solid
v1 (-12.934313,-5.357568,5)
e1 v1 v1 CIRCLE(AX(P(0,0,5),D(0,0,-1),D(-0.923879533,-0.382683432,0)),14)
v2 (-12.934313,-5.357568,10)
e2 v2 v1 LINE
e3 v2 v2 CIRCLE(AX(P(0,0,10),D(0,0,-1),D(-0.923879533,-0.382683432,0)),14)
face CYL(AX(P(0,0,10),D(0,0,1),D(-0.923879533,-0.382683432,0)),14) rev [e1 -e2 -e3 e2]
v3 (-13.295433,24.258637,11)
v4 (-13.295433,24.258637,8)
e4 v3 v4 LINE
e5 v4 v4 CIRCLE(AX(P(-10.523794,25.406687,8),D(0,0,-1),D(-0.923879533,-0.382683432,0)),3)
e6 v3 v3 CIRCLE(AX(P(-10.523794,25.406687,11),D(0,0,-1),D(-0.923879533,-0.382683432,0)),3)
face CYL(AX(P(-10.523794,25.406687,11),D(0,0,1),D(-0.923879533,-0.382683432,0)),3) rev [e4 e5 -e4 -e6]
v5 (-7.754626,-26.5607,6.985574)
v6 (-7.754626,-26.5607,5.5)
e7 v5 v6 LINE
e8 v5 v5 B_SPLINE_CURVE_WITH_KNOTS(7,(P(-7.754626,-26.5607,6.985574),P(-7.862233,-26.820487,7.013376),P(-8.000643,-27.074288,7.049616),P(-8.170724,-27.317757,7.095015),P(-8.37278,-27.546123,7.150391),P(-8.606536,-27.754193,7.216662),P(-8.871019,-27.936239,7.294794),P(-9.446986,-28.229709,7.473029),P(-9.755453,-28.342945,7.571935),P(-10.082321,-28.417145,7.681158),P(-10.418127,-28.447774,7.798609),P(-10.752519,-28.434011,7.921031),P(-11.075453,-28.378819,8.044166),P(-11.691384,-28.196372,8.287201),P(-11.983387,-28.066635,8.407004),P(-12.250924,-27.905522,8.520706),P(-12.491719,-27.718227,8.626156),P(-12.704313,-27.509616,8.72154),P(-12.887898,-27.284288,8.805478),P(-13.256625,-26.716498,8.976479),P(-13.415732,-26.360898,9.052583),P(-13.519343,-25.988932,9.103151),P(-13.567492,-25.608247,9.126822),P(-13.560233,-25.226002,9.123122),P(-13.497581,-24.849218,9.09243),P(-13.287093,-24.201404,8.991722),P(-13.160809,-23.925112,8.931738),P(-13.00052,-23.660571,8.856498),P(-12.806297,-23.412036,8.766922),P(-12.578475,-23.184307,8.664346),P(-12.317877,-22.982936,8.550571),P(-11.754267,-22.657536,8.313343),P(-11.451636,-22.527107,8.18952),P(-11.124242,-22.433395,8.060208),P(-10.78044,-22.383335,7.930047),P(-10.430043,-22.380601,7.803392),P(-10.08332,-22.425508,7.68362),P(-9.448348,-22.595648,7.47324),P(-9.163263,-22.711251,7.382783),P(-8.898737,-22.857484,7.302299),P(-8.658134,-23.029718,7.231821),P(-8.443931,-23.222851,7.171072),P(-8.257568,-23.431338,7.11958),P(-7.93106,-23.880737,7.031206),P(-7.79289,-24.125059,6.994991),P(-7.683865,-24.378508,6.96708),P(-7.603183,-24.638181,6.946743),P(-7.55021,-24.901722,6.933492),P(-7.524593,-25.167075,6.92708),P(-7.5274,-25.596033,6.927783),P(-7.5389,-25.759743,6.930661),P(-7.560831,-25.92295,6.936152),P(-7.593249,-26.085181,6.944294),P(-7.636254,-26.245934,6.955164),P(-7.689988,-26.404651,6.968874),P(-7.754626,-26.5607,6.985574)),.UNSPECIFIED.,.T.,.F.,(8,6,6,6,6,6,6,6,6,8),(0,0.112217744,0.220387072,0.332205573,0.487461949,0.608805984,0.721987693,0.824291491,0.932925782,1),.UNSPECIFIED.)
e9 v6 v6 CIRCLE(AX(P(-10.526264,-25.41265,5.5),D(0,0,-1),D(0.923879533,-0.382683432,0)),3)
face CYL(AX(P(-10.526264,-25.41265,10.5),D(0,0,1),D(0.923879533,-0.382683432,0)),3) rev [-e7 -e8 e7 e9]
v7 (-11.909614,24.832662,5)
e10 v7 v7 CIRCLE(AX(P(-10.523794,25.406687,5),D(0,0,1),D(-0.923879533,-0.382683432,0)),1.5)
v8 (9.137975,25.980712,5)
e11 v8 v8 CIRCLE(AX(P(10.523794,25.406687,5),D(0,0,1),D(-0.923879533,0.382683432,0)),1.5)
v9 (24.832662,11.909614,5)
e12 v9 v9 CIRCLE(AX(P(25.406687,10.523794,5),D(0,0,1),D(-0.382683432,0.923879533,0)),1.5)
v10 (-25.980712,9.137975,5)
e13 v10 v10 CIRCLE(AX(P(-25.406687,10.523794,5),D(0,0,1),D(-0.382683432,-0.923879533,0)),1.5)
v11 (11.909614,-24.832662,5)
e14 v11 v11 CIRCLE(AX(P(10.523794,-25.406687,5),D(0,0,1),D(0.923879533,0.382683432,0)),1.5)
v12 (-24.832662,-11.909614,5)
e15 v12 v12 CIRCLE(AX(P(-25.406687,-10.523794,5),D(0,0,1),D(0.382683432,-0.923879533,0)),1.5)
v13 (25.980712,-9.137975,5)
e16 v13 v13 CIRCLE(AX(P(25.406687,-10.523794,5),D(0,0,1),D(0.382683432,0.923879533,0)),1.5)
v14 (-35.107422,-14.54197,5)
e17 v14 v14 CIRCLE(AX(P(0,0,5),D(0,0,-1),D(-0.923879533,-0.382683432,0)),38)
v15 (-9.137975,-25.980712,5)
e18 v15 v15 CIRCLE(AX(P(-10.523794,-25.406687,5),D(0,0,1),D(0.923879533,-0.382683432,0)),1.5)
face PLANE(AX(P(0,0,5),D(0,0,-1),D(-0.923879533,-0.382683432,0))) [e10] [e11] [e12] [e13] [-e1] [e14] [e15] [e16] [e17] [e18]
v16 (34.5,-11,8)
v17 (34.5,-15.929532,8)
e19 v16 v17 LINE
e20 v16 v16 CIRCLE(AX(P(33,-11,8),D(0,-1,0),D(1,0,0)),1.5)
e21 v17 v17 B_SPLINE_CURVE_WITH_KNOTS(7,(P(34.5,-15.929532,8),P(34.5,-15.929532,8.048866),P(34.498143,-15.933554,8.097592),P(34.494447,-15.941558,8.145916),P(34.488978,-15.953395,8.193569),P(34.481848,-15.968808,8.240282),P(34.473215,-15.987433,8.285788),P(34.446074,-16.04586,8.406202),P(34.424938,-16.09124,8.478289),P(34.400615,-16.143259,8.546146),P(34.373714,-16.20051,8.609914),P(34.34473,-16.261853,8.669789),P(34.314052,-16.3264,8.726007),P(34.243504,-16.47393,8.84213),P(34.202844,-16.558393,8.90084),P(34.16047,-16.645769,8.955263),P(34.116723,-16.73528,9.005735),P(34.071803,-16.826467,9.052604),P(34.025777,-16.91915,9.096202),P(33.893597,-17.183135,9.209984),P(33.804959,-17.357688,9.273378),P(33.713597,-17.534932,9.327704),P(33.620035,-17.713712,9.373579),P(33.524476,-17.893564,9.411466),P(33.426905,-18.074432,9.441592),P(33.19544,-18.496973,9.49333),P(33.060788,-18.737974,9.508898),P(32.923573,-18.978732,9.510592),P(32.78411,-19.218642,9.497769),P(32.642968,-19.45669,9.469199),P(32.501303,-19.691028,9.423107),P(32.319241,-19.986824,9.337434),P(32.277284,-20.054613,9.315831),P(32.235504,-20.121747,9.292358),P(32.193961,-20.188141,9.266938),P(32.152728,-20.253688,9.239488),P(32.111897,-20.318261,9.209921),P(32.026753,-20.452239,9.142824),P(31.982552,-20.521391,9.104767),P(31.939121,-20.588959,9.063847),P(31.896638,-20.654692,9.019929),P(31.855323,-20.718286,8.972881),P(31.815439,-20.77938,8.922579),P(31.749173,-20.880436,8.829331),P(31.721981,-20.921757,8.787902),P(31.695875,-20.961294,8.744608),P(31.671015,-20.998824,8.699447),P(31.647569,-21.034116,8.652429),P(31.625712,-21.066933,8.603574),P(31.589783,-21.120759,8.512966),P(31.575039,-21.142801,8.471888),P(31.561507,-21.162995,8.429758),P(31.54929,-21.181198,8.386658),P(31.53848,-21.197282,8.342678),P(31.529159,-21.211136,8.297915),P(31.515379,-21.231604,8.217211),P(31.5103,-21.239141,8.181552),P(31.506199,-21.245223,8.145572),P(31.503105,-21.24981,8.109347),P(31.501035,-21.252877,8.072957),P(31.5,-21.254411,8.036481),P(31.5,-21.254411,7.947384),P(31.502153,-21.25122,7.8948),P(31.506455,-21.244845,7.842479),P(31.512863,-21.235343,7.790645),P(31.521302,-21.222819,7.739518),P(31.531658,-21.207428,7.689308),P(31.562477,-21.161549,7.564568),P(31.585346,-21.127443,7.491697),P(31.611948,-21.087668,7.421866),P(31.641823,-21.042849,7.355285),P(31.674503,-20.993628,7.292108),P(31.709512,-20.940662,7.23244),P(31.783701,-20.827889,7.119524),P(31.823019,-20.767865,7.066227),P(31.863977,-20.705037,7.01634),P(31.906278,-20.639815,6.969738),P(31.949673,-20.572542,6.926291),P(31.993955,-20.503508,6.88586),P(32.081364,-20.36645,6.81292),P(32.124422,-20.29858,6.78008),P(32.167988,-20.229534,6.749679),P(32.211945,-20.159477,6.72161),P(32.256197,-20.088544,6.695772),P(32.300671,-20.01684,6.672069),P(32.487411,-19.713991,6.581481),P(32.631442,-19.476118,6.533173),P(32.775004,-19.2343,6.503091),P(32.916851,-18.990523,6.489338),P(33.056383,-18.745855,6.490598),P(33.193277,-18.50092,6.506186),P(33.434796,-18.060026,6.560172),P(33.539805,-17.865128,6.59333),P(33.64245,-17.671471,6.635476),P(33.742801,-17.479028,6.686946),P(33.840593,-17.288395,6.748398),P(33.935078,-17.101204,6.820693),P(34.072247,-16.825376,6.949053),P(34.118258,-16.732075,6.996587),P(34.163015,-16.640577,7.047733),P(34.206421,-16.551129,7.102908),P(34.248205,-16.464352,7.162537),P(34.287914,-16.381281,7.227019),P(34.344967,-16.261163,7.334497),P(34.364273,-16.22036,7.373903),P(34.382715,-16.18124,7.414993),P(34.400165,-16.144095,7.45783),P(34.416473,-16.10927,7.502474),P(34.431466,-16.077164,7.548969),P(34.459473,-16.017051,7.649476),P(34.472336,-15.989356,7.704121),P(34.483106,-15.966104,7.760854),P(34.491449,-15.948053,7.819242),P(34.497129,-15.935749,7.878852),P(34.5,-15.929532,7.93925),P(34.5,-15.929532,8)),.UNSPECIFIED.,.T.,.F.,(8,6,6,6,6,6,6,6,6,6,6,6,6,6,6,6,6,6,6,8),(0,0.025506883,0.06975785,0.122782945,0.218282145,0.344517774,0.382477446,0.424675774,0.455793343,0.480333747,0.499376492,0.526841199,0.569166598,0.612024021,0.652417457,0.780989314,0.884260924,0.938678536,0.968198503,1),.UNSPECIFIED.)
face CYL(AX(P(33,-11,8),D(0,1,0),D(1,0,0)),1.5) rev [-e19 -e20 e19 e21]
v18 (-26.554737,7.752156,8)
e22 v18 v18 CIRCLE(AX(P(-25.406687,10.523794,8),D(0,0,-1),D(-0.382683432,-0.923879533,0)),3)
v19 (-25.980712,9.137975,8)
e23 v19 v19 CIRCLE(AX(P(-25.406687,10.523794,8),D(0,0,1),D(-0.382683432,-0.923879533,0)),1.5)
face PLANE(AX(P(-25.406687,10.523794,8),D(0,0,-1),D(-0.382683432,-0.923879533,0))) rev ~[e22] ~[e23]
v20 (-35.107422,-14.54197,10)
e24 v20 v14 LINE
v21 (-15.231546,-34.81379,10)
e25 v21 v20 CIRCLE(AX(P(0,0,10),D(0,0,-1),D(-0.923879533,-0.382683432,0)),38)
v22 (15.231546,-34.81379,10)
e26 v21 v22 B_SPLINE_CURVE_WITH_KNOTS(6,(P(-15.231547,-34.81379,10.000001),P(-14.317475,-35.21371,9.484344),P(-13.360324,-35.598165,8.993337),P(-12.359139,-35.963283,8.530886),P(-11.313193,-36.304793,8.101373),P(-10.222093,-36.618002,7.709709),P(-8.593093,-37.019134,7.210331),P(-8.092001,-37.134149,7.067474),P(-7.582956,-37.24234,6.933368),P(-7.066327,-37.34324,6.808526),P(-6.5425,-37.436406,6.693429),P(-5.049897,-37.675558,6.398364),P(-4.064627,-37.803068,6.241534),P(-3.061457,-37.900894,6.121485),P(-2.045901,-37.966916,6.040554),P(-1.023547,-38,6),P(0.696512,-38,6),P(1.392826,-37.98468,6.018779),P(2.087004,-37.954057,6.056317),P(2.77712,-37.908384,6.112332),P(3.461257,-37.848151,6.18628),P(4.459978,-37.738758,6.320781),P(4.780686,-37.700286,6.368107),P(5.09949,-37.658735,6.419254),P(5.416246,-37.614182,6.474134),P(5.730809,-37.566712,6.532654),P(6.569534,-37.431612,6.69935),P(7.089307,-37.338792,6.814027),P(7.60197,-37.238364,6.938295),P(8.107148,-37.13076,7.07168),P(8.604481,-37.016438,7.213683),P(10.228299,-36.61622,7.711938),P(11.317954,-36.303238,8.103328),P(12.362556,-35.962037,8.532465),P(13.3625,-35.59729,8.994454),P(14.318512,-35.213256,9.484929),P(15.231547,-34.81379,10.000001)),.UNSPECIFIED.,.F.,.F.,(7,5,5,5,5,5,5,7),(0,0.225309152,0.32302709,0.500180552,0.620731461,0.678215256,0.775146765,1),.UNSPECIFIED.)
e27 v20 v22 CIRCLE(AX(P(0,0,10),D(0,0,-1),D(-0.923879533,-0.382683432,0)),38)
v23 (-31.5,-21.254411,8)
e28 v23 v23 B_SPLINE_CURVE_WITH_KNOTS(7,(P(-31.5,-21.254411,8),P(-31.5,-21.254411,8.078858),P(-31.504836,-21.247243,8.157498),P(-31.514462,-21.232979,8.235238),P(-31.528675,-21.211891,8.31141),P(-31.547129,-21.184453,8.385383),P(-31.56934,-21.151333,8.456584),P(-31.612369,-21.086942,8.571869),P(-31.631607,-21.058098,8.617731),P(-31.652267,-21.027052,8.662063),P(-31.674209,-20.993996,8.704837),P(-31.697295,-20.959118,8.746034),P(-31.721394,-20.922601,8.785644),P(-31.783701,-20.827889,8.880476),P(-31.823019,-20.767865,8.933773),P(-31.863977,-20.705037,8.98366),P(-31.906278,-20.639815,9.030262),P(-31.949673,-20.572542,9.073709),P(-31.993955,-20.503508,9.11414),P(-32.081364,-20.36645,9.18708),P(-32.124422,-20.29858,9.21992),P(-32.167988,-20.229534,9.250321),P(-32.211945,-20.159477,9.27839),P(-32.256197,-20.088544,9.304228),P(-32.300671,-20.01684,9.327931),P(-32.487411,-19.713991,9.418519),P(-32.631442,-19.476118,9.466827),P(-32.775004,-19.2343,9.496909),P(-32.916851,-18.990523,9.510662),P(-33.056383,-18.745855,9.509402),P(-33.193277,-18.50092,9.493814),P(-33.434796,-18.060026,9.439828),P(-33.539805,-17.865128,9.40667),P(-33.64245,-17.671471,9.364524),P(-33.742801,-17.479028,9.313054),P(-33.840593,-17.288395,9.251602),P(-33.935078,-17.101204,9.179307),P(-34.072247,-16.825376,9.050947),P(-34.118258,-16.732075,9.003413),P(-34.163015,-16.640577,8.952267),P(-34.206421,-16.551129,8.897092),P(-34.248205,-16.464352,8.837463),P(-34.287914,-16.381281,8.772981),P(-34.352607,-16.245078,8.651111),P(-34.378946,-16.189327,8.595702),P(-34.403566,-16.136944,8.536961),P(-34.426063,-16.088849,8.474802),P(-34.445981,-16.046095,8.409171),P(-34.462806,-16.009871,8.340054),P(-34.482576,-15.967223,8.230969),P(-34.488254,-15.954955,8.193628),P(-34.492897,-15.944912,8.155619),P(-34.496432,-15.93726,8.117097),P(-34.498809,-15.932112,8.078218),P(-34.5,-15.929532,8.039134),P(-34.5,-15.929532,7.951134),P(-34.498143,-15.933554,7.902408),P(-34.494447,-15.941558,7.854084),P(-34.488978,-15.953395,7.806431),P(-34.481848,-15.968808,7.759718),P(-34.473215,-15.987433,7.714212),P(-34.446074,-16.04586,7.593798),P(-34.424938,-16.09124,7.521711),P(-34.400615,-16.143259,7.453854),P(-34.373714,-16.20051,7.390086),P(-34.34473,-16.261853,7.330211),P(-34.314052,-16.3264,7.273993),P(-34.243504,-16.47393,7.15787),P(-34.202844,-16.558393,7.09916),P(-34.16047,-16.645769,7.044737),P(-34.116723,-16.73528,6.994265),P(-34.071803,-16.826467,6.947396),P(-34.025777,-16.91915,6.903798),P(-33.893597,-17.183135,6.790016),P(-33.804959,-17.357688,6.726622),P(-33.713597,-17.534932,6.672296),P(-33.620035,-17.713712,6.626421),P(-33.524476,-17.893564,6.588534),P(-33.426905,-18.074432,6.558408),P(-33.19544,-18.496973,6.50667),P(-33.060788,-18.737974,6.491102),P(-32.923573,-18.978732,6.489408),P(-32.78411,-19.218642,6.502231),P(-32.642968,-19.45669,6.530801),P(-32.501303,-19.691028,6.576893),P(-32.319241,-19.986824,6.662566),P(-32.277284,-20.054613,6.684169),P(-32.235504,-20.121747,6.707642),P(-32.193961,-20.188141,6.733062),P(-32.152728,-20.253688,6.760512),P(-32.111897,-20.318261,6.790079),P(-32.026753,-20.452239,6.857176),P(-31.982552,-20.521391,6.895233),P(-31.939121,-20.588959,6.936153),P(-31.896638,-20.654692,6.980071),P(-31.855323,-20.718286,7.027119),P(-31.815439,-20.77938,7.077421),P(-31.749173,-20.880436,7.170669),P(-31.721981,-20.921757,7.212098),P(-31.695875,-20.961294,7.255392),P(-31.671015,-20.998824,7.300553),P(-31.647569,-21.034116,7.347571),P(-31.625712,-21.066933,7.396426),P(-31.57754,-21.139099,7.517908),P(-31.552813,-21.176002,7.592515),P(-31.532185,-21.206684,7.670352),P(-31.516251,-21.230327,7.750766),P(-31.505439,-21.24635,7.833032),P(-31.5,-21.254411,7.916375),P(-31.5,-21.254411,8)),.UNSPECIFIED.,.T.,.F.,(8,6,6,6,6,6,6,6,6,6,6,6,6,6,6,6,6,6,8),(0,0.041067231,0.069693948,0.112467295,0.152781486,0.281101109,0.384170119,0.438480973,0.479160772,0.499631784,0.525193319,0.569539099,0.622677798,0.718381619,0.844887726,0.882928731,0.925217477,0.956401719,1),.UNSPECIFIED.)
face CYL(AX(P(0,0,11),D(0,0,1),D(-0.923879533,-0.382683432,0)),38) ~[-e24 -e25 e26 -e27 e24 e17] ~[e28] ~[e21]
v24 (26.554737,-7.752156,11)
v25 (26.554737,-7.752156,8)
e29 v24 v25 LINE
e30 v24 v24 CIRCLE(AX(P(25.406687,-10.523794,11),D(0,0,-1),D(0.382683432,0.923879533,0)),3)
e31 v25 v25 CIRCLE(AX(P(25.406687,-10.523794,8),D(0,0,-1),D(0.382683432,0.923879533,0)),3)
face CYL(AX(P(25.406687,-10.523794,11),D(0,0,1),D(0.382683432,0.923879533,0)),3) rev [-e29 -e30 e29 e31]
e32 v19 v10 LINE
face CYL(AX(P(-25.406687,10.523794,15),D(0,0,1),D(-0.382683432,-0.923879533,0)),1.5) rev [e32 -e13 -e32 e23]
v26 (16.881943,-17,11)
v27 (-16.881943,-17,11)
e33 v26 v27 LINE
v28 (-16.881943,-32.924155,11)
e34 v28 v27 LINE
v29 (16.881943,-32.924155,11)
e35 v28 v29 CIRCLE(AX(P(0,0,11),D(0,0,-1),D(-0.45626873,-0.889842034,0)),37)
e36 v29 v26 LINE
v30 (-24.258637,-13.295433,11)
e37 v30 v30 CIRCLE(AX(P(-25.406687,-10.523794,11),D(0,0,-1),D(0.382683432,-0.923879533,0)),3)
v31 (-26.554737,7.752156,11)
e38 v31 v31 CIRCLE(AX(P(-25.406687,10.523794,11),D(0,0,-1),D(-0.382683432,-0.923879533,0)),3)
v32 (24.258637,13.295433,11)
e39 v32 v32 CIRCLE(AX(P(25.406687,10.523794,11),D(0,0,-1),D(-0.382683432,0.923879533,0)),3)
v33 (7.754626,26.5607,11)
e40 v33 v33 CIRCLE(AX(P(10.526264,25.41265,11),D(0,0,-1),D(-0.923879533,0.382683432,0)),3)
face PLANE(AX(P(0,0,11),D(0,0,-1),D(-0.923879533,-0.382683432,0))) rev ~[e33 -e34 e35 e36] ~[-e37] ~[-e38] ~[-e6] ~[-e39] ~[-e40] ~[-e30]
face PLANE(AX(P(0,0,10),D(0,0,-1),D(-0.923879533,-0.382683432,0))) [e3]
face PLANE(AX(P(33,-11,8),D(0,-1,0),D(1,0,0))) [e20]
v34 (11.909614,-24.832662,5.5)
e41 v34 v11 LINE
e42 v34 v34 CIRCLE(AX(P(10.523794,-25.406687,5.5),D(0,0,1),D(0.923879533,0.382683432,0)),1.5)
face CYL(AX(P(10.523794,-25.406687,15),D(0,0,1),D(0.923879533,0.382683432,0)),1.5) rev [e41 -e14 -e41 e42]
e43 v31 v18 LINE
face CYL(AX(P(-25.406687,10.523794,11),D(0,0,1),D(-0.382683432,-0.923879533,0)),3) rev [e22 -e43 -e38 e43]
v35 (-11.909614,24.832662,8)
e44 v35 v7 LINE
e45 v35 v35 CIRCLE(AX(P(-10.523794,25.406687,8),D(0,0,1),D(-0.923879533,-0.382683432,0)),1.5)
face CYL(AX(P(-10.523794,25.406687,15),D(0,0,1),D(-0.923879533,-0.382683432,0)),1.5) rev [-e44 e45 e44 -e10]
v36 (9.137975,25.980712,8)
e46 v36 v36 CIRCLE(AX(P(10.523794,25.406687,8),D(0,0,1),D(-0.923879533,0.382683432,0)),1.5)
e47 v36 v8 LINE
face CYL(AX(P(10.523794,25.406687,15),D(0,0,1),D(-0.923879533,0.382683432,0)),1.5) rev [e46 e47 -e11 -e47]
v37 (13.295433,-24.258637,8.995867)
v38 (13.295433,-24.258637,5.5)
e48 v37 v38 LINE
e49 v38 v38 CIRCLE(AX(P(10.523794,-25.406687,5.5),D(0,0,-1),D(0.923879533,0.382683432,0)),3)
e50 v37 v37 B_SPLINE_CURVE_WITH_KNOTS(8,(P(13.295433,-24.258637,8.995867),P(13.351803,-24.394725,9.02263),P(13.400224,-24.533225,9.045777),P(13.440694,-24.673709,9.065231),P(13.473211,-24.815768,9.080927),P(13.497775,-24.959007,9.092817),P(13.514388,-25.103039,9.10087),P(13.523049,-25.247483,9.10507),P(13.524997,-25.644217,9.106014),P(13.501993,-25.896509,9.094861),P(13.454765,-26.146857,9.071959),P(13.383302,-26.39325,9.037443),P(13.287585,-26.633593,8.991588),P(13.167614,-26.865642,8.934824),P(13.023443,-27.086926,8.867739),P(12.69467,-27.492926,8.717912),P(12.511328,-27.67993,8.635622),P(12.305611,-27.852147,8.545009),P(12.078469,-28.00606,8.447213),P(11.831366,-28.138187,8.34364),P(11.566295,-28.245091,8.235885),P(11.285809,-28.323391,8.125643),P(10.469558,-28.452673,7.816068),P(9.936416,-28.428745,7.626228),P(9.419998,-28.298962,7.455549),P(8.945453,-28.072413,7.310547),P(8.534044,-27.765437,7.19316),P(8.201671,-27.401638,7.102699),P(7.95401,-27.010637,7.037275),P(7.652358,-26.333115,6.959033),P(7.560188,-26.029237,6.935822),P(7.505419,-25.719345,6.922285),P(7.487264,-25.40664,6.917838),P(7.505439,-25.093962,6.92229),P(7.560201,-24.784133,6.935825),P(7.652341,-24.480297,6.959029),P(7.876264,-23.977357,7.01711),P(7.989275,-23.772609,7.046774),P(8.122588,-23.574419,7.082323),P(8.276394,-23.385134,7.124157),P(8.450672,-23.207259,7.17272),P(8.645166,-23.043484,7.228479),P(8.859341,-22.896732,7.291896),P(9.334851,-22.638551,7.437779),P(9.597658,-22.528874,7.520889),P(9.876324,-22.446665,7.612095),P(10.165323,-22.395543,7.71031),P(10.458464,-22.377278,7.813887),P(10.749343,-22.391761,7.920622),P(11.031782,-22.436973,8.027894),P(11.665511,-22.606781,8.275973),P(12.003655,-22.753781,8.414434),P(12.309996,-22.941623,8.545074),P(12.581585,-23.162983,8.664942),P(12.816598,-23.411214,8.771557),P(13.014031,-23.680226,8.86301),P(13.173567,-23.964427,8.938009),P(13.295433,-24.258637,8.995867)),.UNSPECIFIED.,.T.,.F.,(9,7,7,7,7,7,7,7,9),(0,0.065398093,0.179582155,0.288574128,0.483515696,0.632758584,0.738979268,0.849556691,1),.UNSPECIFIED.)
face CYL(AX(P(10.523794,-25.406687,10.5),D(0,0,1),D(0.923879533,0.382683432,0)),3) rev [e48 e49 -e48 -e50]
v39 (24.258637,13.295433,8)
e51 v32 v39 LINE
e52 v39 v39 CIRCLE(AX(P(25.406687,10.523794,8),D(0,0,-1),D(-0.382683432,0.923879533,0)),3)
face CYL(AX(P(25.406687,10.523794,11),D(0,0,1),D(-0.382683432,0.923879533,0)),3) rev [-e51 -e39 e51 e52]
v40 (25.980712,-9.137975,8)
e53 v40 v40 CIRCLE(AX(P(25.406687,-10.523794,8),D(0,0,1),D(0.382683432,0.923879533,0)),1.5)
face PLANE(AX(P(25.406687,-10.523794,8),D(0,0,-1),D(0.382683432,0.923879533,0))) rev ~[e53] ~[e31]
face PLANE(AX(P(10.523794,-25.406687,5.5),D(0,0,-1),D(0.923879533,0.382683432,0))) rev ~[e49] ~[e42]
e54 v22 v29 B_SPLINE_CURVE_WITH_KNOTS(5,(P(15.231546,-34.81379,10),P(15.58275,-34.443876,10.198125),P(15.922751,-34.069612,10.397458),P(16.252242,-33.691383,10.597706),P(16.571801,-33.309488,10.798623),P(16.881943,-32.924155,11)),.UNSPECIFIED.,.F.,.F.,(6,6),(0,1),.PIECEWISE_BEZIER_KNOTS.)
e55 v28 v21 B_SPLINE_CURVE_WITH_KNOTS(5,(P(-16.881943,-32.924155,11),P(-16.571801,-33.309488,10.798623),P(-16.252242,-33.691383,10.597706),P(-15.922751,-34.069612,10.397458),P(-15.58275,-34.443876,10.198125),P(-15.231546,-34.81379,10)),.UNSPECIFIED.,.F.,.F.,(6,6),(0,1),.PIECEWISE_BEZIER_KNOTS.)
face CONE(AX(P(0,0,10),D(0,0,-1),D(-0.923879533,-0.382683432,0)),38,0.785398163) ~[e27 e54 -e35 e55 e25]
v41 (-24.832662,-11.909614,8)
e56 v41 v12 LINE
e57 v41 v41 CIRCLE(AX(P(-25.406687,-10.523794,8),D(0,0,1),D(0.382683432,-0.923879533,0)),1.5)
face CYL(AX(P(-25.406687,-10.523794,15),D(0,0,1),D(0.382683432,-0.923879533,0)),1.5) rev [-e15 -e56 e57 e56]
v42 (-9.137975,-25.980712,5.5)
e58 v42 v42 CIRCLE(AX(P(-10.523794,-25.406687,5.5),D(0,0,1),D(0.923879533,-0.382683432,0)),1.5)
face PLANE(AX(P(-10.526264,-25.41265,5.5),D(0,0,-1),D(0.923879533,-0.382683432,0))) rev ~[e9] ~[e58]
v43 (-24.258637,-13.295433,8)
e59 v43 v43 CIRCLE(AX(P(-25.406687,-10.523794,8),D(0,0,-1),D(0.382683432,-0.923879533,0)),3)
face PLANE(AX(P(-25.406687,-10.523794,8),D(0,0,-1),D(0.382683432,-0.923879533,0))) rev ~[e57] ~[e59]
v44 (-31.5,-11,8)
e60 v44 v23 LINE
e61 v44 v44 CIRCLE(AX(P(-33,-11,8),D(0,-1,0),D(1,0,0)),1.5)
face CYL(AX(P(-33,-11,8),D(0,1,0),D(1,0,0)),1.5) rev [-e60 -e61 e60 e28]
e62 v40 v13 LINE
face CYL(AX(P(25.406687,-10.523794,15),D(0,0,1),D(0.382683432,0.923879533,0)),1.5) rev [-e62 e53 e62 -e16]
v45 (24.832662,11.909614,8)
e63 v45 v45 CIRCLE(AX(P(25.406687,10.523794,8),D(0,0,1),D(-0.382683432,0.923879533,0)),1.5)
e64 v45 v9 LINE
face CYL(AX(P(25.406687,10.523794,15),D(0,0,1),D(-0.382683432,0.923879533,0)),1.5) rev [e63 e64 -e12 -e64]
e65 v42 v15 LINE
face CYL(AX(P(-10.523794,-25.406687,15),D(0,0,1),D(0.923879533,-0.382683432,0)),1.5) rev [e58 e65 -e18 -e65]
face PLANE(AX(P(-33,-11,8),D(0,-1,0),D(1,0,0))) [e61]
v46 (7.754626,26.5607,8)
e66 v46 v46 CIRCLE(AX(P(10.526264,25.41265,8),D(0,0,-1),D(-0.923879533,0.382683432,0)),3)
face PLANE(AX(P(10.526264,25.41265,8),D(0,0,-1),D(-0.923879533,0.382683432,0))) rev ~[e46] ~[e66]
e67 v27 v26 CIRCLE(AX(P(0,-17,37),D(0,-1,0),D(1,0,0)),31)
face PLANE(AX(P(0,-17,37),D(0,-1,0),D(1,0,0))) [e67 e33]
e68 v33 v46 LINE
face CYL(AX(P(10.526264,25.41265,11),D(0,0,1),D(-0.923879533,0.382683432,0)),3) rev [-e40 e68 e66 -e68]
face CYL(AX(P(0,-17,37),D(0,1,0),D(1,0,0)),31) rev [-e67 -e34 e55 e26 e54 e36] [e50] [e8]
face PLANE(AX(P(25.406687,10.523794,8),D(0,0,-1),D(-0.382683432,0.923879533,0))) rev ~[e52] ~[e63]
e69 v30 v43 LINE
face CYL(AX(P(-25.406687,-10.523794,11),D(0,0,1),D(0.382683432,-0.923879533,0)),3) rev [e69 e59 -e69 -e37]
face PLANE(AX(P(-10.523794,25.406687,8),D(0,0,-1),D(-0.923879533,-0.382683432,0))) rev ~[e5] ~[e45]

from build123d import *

# Parameters (mm, degrees)
CYLINDER2682_R               = 1.5
CYLINDER2682_DEPTH           = 60
CYLINDER2681_R               = 1.5
CYLINDER2681_DEPTH           = 60
TUBE120_R                    = 31
TUBE120_R_2                  = 22
TUBE120_DEPTH                = 24
CYLINDER2647_R               = 14
CYLINDER2647_DEPTH           = 5
CYLINDER2632_R               = 1.5
CYLINDER2632_DEPTH           = 20
CYLINDER2632_PLACEMENT_ANGLE = 45
CYLINDER2640_R               = 1.5
CYLINDER2640_DEPTH           = 20
CYLINDER2633_R               = 1.5
CYLINDER2633_DEPTH           = 20
CYLINDER2633_PLACEMENT_ANGLE = 135
CYLINDER2641_R               = 1.5
CYLINDER2641_DEPTH           = 20
CYLINDER2634_R               = 1.5
CYLINDER2634_DEPTH           = 20
CYLINDER2634_PLACEMENT_ANGLE = 225
CYLINDER2644_R               = 1.5
CYLINDER2644_DEPTH           = 20
CYLINDER2643_R               = 1.5
CYLINDER2643_DEPTH           = 20
CYLINDER2643_PLACEMENT_ANGLE = 45
CYLINDER2646_R               = 1.5
CYLINDER2646_DEPTH           = 20
CYLINDER2635_R               = 3
CYLINDER2635_DEPTH           = 3
CYLINDER2635_PLACEMENT_ANGLE = 45
CYLINDER2636_R               = 3
CYLINDER2636_DEPTH           = 3
CYLINDER2630_R               = 3
CYLINDER2630_DEPTH           = 3
CYLINDER2630_PLACEMENT_ANGLE = 135
CYLINDER2631_R               = 3
CYLINDER2631_DEPTH           = 5
CYLINDER2637_R               = 3
CYLINDER2637_DEPTH           = 5
CYLINDER2637_PLACEMENT_ANGLE = 225
CYLINDER2638_R               = 3
CYLINDER2638_DEPTH           = 3
CYLINDER2639_R               = 3
CYLINDER2639_DEPTH           = 3
CYLINDER2639_PLACEMENT_ANGLE = 45
CYLINDER2642_R               = 3
CYLINDER2642_DEPTH           = 3
CYLINDER2645_R               = 38
CYLINDER2645_DEPTH           = 6
CHAMFER126_SIZE              = 1
CHAMFER126_ROLL_ANGLE        = 180
CHAMFER126_PLACEMENT_ANGLE   = -157.5


with BuildPart() as v_lec2652:
    # Cylinder2682 → Cylinder2682 (new body)
    with BuildSketch(Plane(origin=(33, -10, 8), x_dir=(1, 0, 0), z_dir=(0, -1, 0))):
        Circle(CYLINDER2682_R)
    extrude(amount=CYLINDER2682_DEPTH)


with BuildPart() as compound1193:
    # Cylinder2681 → Cylinder2681 (new body)
    with BuildSketch(Plane(origin=(-33, -10, 8), x_dir=(1, 0, 0), z_dir=(0, -1, 0))):
        Circle(CYLINDER2681_R)
    extrude(amount=CYLINDER2681_DEPTH)

    # Compound1193: union Válec2652
    add(v_lec2652.part)


with BuildPart() as compound1193_1:
    # Compound1193 placement: moved
    add(compound1193.part.moved(Location((0, -1, 0))))


with BuildPart() as tube120:
    # Tube120 → Tube120 (new body)
    with BuildSketch(Plane(origin=(0, -17, 37), x_dir=(1, 0, 0), z_dir=(0, -1, 0))):
        Circle(TUBE120_R)
        Circle(TUBE120_R_2, mode=Mode.SUBTRACT)
    extrude(amount=TUBE120_DEPTH)


with BuildPart() as v_lec2617:
    # Cylinder2647 → Cylinder2647 (new body)
    with BuildSketch(Plane.XY.offset(1)):
        Circle(CYLINDER2647_R)
    extrude(amount=CYLINDER2647_DEPTH)


with BuildPart() as v_lec2602:
    # Cylinder2632 → Cylinder2632 (new body)
    with BuildSketch(Plane.XY):
        Circle(CYLINDER2632_R)
    extrude(amount=CYLINDER2632_DEPTH)


with BuildPart() as v_lec2602_1:
    # Cylinder2632 placement: moved
    add(v_lec2602.part.moved(Location((-19.445436, 19.445436, 19))).rotate(Axis((-19.445436, 19.445436, 19), (0, 0, 1)), CYLINDER2632_PLACEMENT_ANGLE))


with BuildPart() as v_lec2610:
    # Cylinder2640 → Cylinder2640 (new body)
    with BuildSketch(Plane(origin=(-27.5, 0, 19), x_dir=(0, 1, 0), z_dir=(0, 0, 1))):
        Circle(CYLINDER2640_R)
    extrude(amount=CYLINDER2640_DEPTH)


with BuildPart() as v_lec2603:
    # Cylinder2633 → Cylinder2633 (new body)
    with BuildSketch(Plane.XY):
        Circle(CYLINDER2633_R)
    extrude(amount=CYLINDER2633_DEPTH)


with BuildPart() as v_lec2603_1:
    # Cylinder2633 placement: moved
    add(v_lec2603.part.moved(Location((-19.445436, -19.445436, 19))).rotate(Axis((-19.445436, -19.445436, 19), (0, 0, 1)), CYLINDER2633_PLACEMENT_ANGLE))


with BuildPart() as v_lec2611:
    # Cylinder2641 → Cylinder2641 (new body)
    with BuildSketch(Plane(origin=(0, -27.5, 19), x_dir=(-1, 0, 0), z_dir=(0, 0, 1))):
        Circle(CYLINDER2641_R)
    extrude(amount=CYLINDER2641_DEPTH)


with BuildPart() as v_lec2604:
    # Cylinder2634 → Cylinder2634 (new body)
    with BuildSketch(Plane.XY):
        Circle(CYLINDER2634_R)
    extrude(amount=CYLINDER2634_DEPTH)


with BuildPart() as v_lec2604_1:
    # Cylinder2634 placement: moved
    add(v_lec2604.part.moved(Location((19.445436, -19.445436, 19))).rotate(Axis((19.445436, -19.445436, 19), (0, 0, 1)), CYLINDER2634_PLACEMENT_ANGLE))


with BuildPart() as v_lec2614:
    # Cylinder2644 → Cylinder2644 (new body)
    with BuildSketch(Plane(origin=(27.5, 0, 19), x_dir=(0, -1, 0), z_dir=(0, 0, 1))):
        Circle(CYLINDER2644_R)
    extrude(amount=CYLINDER2644_DEPTH)


with BuildPart() as v_lec2613:
    # Cylinder2643 → Cylinder2643 (new body)
    with BuildSketch(Plane.XY):
        Circle(CYLINDER2643_R)
    extrude(amount=CYLINDER2643_DEPTH)


with BuildPart() as v_lec2613_1:
    # Cylinder2643 placement: moved
    add(v_lec2613.part.moved(Location((19.445436, 19.445436, 19))).rotate(Axis((19.445436, 19.445436, 19), (0, 0, -1)), CYLINDER2643_PLACEMENT_ANGLE))


with BuildPart() as compound1169:
    # Cylinder2646 → Cylinder2646 (new body)
    with BuildSketch(Plane(origin=(0, 27.5, 19), x_dir=(1, 0, 0), z_dir=(0, 0, 1))):
        Circle(CYLINDER2646_R)
    extrude(amount=CYLINDER2646_DEPTH)

    # Compound1169: union Válec2602, Válec2610, Válec2603, Válec2611, Válec2604, Válec2614, Válec2613
    add(v_lec2602_1.part)
    add(v_lec2610.part)
    add(v_lec2603_1.part)
    add(v_lec2611.part)
    add(v_lec2604_1.part)
    add(v_lec2614.part)
    add(v_lec2613_1.part)


with BuildPart() as compound1169_1:
    # Compound1169 placement: moved
    add(compound1169.part.moved(Location((0, 0, -23))))


with BuildPart() as v_lec2605:
    # Cylinder2635 → Cylinder2635 (new body)
    with BuildSketch(Plane.XY):
        Circle(CYLINDER2635_R)
    extrude(amount=CYLINDER2635_DEPTH)


with BuildPart() as v_lec2605_1:
    # Cylinder2635 placement: moved
    add(v_lec2605.part.moved(Location((-19.45, 19.45, 19))).rotate(Axis((-19.45, 19.45, 19), (0, 0, 1)), CYLINDER2635_PLACEMENT_ANGLE))


with BuildPart() as v_lec2606:
    # Cylinder2636 → Cylinder2636 (new body)
    with BuildSketch(Plane(origin=(-27.5, 0, 19), x_dir=(0, 1, 0), z_dir=(0, 0, 1))):
        Circle(CYLINDER2636_R)
    extrude(amount=CYLINDER2636_DEPTH)


with BuildPart() as v_lec2600:
    # Cylinder2630 → Cylinder2630 (new body)
    with BuildSketch(Plane.XY):
        Circle(CYLINDER2630_R)
    extrude(amount=CYLINDER2630_DEPTH)


with BuildPart() as v_lec2600_1:
    # Cylinder2630 placement: moved
    add(v_lec2600.part.moved(Location((-19.445436, -19.445436, 19))).rotate(Axis((-19.445436, -19.445436, 19), (0, 0, 1)), CYLINDER2630_PLACEMENT_ANGLE))


with BuildPart() as v_lec2601:
    # Cylinder2631 → Cylinder2631 (new body)
    with BuildSketch(Plane(origin=(0, -27.5, 19.5), x_dir=(-1, 0, 0), z_dir=(0, 0, 1))):
        Circle(CYLINDER2631_R)
    extrude(amount=CYLINDER2631_DEPTH)


with BuildPart() as v_lec2607:
    # Cylinder2637 → Cylinder2637 (new body)
    with BuildSketch(Plane.XY):
        Circle(CYLINDER2637_R)
    extrude(amount=CYLINDER2637_DEPTH)


with BuildPart() as v_lec2607_1:
    # Cylinder2637 placement: moved
    add(v_lec2607.part.moved(Location((19.45, -19.45, 19.5))).rotate(Axis((19.45, -19.45, 19.5), (0, 0, 1)), CYLINDER2637_PLACEMENT_ANGLE))


with BuildPart() as v_lec2608:
    # Cylinder2638 → Cylinder2638 (new body)
    with BuildSketch(Plane(origin=(27.5, 0, 19), x_dir=(0, -1, 0), z_dir=(0, 0, 1))):
        Circle(CYLINDER2638_R)
    extrude(amount=CYLINDER2638_DEPTH)


with BuildPart() as v_lec2609:
    # Cylinder2639 → Cylinder2639 (new body)
    with BuildSketch(Plane.XY):
        Circle(CYLINDER2639_R)
    extrude(amount=CYLINDER2639_DEPTH)


with BuildPart() as v_lec2609_1:
    # Cylinder2639 placement: moved
    add(v_lec2609.part.moved(Location((19.445436, 19.445436, 19))).rotate(Axis((19.445436, 19.445436, 19), (0, 0, -1)), CYLINDER2639_PLACEMENT_ANGLE))


with BuildPart() as compound1170:
    # Cylinder2642 → Cylinder2642 (new body)
    with BuildSketch(Plane(origin=(0, 27.5, 19), x_dir=(1, 0, 0), z_dir=(0, 0, 1))):
        Circle(CYLINDER2642_R)
    extrude(amount=CYLINDER2642_DEPTH)

    # Compound1170: union Válec2605, Válec2606, Válec2600, Válec2601, Válec2607, Válec2608, Válec2609
    add(v_lec2605_1.part)
    add(v_lec2606.part)
    add(v_lec2600_1.part)
    add(v_lec2601.part)
    add(v_lec2607_1.part)
    add(v_lec2608.part)
    add(v_lec2609_1.part)


with BuildPart() as compound1170_1:
    # Compound1170 placement: moved
    add(compound1170.part.moved(Location((0, 0, -19))))


with BuildPart() as cut1006:
    # Cylinder2645 → Cylinder2645 (new body)
    with BuildSketch(Plane.XY):
        Circle(CYLINDER2645_R)
    extrude(amount=CYLINDER2645_DEPTH)

    # Cut630: cut Compound1170
    add(compound1170_1.part, mode=Mode.SUBTRACT)

    # Cut628: cut Compound1169
    add(compound1169_1.part, mode=Mode.SUBTRACT)

    # Cut629: cut Válec2617
    add(v_lec2617.part, mode=Mode.SUBTRACT)

    # Chamfer126
    chamfer126_edges = [cut1006.edges().sort_by_distance(p)[0] for p in [
        (-38, 0, 0),
    ]]
    chamfer(chamfer126_edges, length=CHAMFER126_SIZE)


with BuildPart() as cut1006_1:
    # Chamfer126 roll: moved
    add(cut1006.part.rotate(Axis((0, 0, 0), (1, 0, 0)), CHAMFER126_ROLL_ANGLE))


with BuildPart() as cut1006_2:
    # Chamfer126 placement: moved
    add(cut1006_1.part.moved(Location((0, 0, 11))).rotate(Axis((0, 0, 11), (0, 0, 1)), CHAMFER126_PLACEMENT_ANGLE))

    # Cut976: cut Tube120
    add(tube120.part, mode=Mode.SUBTRACT)

    # Cut1006: cut Compound1193
    add(compound1193_1.part, mode=Mode.SUBTRACT)


solid = cut1006_2.part
